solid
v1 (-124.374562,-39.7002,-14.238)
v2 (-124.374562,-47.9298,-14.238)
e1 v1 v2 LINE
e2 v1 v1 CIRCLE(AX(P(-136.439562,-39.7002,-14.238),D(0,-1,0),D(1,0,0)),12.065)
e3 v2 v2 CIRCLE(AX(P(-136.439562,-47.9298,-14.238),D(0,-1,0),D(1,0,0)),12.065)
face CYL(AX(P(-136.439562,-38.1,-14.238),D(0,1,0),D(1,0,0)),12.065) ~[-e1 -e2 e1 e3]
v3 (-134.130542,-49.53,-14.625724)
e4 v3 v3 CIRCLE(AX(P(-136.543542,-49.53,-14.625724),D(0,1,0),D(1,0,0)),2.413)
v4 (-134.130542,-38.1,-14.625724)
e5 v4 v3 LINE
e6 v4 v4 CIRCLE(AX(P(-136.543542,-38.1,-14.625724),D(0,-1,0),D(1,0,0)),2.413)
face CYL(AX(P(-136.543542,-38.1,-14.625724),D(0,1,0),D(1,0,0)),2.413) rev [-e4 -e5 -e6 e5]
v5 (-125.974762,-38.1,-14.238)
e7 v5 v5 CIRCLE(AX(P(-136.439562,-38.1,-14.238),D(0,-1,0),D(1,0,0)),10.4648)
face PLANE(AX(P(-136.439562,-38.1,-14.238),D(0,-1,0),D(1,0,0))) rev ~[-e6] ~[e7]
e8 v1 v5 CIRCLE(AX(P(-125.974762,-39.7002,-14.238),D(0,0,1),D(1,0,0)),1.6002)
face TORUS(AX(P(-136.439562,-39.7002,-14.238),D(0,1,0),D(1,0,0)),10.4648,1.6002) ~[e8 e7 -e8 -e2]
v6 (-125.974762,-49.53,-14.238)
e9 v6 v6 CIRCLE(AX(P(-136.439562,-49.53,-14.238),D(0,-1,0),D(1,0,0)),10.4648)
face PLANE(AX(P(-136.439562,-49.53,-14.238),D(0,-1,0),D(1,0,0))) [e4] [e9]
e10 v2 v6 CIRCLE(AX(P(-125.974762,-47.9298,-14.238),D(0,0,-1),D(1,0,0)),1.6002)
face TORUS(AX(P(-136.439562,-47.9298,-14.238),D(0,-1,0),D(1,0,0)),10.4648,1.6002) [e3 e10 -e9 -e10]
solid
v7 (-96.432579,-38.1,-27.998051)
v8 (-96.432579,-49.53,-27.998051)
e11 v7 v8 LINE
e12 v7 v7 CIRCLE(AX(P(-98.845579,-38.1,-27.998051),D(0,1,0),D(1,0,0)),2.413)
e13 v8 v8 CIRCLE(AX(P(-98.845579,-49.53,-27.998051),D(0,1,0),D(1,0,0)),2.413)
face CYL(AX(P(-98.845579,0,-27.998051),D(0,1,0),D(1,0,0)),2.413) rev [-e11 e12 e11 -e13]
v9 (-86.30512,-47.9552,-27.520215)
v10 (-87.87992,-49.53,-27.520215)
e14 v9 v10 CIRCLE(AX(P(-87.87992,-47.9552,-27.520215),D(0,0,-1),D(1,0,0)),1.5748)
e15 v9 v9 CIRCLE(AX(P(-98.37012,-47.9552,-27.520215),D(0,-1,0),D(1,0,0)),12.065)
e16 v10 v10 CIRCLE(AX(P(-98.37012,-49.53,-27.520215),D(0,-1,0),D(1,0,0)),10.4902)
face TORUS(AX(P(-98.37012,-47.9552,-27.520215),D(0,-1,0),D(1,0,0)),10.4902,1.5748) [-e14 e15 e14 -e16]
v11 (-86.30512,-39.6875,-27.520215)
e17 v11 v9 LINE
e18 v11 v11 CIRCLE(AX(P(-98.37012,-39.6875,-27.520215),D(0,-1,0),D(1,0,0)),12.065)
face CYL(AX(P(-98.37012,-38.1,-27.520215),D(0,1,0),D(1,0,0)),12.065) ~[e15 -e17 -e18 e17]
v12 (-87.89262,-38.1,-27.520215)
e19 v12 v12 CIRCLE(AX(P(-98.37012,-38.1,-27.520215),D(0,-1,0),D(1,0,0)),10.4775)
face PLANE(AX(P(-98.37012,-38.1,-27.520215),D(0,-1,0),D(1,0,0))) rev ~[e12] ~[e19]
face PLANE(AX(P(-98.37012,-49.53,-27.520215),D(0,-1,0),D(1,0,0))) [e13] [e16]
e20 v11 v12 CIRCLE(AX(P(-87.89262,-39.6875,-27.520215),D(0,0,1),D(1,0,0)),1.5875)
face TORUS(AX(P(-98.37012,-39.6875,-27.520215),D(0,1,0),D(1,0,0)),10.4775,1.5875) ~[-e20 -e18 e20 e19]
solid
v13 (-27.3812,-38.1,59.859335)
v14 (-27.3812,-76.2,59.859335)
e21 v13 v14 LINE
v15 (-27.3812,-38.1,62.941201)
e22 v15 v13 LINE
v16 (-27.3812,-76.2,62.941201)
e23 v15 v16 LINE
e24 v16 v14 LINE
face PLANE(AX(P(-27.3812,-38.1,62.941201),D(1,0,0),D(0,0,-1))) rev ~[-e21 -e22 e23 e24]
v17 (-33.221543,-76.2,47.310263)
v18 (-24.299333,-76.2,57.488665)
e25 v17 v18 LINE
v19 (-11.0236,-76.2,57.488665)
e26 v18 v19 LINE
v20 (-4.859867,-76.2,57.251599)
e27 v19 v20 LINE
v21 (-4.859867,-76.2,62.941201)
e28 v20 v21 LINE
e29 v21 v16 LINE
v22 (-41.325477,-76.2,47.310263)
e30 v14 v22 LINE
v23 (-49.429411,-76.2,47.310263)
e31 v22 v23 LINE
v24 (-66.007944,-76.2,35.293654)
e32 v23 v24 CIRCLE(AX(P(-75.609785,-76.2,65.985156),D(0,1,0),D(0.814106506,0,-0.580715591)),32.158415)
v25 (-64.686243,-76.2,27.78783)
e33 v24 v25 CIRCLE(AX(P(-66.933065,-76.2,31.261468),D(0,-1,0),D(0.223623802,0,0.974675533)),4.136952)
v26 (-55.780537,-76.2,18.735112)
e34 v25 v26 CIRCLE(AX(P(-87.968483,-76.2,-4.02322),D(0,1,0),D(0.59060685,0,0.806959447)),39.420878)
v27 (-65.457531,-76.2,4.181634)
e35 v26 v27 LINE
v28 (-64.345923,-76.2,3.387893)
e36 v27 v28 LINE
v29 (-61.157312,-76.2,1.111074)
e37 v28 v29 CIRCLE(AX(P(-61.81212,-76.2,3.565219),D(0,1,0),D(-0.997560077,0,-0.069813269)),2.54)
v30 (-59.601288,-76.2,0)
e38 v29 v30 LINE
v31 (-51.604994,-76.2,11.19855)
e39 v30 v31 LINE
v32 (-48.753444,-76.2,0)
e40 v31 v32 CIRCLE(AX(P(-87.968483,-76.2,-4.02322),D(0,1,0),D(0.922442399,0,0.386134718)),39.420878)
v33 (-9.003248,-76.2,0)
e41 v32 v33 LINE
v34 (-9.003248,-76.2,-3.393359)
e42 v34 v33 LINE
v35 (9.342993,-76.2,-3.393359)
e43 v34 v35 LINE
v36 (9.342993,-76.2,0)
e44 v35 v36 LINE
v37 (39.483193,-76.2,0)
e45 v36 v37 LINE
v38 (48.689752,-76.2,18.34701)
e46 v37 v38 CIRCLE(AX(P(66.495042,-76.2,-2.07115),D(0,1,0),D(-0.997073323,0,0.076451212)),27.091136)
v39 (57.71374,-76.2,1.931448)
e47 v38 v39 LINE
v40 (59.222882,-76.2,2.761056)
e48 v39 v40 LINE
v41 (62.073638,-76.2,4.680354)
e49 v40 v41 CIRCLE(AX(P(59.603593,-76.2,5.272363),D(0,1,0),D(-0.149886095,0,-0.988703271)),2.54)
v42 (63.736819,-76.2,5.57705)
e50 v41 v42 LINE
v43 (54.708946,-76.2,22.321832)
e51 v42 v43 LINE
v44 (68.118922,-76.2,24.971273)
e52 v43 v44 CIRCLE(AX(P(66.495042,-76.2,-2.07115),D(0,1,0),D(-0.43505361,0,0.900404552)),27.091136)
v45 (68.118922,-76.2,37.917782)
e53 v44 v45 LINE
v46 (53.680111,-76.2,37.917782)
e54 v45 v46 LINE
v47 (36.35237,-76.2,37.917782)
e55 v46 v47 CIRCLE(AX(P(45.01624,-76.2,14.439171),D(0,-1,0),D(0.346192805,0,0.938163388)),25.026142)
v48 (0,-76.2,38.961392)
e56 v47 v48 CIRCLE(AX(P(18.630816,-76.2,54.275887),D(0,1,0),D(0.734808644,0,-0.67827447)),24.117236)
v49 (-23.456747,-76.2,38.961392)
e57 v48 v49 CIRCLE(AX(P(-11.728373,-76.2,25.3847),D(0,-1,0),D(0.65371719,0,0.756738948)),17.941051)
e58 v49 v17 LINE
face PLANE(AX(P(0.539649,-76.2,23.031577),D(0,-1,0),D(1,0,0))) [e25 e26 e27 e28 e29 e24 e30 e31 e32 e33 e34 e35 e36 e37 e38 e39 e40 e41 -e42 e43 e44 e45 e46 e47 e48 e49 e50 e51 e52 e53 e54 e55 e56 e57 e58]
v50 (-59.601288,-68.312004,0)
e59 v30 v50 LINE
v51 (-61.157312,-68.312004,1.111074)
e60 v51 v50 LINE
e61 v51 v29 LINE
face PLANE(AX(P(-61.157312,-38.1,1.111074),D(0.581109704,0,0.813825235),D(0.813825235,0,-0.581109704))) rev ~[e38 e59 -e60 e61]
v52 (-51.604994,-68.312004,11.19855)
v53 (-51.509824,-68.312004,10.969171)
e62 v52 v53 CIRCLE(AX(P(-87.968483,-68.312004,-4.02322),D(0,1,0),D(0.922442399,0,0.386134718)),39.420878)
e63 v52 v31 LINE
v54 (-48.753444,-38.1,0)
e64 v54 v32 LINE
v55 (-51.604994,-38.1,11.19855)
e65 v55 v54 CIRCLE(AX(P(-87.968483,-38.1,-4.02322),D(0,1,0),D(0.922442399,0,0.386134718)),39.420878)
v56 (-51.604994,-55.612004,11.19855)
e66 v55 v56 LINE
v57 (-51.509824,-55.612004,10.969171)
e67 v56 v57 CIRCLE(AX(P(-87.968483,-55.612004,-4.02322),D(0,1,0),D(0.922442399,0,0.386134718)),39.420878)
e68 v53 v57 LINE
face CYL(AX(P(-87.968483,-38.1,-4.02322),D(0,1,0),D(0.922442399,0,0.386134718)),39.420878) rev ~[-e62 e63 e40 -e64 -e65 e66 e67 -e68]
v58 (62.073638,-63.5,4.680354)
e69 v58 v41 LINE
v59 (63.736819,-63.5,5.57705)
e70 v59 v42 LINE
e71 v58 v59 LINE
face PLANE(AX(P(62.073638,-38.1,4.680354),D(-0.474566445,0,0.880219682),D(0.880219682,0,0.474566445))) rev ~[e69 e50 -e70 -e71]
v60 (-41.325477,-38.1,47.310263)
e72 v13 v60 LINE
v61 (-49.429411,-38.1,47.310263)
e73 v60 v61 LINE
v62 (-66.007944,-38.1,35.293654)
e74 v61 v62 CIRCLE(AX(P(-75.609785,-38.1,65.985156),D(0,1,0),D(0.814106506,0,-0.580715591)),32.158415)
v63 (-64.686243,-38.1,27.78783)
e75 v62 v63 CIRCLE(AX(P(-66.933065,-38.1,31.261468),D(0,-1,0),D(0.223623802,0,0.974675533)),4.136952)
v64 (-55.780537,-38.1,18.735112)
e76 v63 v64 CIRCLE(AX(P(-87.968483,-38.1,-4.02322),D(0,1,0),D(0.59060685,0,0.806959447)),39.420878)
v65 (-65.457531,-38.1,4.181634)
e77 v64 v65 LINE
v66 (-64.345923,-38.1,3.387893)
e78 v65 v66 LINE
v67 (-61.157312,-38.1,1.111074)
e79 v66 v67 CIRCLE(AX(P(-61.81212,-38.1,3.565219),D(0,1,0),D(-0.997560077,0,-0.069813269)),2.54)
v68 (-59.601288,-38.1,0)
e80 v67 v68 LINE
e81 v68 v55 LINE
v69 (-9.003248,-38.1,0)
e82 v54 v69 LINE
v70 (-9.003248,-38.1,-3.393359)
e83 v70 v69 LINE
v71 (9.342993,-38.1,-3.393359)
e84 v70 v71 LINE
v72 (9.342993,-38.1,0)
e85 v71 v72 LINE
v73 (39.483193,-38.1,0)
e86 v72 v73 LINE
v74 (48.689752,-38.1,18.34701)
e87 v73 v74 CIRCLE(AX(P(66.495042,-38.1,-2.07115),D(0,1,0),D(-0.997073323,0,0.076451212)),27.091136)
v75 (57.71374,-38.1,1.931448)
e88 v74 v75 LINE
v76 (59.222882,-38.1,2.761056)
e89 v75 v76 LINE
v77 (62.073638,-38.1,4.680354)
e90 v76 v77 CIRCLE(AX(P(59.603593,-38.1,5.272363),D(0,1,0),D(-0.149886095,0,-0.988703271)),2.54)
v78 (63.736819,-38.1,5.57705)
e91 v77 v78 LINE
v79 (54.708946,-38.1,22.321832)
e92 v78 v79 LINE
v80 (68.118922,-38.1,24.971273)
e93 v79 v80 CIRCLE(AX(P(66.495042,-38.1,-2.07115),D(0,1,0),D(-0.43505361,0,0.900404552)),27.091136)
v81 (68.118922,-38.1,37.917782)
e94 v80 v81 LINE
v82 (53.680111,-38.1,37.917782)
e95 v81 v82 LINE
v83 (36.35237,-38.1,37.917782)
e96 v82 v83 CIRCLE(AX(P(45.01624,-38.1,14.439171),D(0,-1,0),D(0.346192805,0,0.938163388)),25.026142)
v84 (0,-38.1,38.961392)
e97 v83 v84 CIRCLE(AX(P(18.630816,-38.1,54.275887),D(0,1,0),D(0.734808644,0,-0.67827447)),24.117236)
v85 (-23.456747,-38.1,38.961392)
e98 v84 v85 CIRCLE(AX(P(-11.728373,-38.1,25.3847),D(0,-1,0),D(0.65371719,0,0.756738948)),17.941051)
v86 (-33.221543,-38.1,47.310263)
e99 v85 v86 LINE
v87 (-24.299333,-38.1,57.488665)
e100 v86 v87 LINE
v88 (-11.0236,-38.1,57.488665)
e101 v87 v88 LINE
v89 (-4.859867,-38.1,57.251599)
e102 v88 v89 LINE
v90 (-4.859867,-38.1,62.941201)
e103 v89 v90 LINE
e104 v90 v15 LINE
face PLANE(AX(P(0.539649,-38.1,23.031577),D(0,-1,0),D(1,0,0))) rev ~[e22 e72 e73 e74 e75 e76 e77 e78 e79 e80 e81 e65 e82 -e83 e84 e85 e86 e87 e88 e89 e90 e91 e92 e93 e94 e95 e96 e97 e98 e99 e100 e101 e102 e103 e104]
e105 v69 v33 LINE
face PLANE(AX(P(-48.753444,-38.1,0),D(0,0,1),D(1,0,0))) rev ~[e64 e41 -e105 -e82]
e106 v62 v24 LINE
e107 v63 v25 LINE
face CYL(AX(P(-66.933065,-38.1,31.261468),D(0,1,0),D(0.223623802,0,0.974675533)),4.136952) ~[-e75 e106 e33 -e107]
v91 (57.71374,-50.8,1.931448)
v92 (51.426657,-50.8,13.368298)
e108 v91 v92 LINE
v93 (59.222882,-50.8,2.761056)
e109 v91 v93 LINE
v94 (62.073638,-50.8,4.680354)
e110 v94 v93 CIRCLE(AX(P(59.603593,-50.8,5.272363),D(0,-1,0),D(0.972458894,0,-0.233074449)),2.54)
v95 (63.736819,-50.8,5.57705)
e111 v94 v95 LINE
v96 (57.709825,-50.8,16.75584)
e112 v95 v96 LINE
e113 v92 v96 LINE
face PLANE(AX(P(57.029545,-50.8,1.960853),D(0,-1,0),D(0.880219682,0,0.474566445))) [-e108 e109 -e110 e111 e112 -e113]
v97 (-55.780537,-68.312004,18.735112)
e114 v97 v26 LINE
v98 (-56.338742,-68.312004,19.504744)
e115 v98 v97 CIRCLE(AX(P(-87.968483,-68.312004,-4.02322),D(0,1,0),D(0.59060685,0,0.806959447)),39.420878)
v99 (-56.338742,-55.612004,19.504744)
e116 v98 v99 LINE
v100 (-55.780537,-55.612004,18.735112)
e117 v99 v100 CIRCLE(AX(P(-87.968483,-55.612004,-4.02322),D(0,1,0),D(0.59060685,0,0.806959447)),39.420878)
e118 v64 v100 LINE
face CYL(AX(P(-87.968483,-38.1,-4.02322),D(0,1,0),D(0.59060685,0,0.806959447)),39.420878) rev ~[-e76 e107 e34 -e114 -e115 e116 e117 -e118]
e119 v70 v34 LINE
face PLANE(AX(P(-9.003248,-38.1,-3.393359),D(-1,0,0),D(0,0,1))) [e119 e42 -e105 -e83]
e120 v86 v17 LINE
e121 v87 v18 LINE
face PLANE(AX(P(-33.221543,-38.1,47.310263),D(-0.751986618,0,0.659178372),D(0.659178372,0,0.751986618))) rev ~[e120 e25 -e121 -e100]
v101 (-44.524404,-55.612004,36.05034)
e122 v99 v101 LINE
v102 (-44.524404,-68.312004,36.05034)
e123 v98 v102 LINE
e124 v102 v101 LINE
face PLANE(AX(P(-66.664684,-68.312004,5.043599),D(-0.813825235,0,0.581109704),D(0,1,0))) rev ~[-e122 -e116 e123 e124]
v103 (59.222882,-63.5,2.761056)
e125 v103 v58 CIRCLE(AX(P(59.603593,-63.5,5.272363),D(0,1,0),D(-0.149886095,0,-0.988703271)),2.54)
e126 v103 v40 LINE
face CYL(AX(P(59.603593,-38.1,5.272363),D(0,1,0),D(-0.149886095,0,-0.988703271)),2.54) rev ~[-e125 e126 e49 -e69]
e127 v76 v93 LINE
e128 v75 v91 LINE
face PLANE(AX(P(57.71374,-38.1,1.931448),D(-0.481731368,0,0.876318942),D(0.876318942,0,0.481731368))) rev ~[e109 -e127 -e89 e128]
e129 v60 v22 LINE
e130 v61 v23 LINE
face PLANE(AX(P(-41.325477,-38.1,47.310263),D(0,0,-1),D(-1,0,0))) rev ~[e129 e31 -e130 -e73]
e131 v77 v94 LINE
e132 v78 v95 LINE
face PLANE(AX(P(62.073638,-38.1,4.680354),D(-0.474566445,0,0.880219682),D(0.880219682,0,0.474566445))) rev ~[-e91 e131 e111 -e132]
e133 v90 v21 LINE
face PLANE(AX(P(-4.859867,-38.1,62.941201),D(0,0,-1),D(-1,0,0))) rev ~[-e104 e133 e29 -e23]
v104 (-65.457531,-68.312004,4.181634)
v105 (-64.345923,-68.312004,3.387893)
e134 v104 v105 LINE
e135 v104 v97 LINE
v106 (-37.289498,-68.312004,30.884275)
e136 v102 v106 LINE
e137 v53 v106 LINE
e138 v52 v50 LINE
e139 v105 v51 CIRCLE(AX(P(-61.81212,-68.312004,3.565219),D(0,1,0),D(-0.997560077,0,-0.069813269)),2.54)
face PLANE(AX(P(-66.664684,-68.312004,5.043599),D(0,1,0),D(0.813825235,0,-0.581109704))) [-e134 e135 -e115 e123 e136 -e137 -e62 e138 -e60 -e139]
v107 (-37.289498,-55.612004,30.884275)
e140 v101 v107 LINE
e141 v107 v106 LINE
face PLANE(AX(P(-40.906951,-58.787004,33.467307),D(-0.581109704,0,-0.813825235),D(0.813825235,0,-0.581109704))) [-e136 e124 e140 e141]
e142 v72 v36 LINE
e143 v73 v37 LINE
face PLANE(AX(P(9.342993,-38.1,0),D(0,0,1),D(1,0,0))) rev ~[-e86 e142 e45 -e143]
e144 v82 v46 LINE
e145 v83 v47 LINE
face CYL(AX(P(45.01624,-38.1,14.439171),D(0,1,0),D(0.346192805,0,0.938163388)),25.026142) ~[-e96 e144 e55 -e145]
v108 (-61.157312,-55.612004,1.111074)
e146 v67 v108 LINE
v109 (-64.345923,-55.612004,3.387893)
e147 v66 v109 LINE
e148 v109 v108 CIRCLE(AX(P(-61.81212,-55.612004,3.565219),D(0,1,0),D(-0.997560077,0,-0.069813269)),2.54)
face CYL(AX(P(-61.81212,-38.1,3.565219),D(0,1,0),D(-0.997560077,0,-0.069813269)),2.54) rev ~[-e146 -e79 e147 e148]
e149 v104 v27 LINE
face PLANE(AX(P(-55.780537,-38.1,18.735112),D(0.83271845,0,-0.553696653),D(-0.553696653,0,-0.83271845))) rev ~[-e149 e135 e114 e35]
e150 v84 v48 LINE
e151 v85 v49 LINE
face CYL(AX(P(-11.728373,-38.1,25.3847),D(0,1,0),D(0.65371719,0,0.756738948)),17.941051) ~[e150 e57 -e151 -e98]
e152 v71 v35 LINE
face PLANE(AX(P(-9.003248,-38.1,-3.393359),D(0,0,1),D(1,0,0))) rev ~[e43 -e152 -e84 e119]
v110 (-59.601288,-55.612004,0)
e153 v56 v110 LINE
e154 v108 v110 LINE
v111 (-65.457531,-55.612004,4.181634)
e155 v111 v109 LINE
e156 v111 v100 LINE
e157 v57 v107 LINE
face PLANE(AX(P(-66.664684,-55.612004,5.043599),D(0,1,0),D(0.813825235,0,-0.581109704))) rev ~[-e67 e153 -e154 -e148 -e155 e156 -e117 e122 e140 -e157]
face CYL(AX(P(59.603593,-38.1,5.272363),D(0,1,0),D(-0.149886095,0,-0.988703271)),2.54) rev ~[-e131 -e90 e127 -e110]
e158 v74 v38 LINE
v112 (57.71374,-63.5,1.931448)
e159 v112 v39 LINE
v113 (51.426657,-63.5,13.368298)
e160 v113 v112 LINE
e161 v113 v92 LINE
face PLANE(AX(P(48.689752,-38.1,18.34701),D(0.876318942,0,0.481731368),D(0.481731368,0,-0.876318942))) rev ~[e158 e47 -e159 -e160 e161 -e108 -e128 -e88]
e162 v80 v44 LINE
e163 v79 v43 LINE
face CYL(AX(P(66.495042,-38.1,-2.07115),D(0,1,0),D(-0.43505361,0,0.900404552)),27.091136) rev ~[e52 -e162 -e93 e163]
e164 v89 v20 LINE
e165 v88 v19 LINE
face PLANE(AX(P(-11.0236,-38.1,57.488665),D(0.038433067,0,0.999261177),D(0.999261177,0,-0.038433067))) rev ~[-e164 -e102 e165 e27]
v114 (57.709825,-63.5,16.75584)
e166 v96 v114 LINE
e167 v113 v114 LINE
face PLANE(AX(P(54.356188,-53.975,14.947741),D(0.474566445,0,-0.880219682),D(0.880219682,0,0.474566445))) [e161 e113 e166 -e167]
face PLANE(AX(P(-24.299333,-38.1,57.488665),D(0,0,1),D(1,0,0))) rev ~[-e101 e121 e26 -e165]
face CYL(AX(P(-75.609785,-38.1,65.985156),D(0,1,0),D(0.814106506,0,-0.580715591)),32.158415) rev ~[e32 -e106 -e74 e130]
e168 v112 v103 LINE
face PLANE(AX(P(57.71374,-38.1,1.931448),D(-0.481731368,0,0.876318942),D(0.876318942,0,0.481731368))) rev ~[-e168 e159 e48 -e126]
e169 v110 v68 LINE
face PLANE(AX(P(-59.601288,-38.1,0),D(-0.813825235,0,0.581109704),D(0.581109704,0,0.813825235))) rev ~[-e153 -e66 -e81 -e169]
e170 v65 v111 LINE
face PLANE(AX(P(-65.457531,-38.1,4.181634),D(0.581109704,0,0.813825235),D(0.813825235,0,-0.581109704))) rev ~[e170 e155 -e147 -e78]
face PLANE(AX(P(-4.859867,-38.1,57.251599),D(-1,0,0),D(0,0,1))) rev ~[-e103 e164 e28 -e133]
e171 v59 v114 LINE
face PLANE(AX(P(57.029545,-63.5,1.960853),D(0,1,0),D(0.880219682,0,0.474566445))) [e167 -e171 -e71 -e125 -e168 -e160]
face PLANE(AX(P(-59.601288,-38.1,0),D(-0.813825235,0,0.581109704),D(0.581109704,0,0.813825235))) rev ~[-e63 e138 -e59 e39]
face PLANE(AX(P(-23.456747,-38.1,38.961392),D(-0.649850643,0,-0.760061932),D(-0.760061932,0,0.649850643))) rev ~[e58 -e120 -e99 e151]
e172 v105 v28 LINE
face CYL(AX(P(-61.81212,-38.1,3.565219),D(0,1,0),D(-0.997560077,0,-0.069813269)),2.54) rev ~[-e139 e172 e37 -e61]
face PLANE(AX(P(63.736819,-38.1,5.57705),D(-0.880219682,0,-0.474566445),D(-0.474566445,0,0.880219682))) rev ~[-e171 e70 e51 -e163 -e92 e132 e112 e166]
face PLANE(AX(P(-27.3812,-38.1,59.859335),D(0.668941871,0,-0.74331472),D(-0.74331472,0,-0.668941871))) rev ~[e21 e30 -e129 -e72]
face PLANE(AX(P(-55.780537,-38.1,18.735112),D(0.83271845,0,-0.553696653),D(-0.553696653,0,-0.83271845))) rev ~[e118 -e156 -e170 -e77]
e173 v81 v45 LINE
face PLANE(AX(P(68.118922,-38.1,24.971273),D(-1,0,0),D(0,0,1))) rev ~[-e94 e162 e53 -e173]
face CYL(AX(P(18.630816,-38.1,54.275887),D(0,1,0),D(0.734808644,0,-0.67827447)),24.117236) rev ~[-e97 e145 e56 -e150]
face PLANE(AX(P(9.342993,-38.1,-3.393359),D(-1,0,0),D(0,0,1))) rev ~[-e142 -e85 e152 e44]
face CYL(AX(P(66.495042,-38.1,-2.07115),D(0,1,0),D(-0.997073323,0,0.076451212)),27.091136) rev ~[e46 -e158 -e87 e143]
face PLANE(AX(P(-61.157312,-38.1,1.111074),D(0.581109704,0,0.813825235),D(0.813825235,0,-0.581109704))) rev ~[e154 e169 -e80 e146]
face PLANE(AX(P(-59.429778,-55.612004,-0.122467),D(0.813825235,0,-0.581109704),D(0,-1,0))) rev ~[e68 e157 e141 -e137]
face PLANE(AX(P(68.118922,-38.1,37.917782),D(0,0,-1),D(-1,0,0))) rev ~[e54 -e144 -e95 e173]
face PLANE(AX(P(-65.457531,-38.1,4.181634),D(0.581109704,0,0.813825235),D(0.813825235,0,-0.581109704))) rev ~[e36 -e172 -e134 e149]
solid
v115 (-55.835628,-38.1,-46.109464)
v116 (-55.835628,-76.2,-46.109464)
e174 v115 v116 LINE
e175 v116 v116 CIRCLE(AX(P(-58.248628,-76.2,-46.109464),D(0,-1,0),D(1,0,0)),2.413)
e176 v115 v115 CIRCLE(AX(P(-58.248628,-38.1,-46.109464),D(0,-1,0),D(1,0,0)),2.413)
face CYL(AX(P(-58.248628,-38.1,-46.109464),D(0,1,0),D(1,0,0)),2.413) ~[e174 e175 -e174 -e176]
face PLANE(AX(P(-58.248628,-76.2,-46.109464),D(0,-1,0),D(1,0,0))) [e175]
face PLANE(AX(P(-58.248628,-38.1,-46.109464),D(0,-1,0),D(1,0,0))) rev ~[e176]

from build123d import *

# Parameters (mm, degrees)
F1_W          = 18.346240744
F1_H          = 3.3933587838
F2_DEPTH      = 38.1
F3_W          = 7.62
F3_H          = 6.35
F4_DEPTH      = 12.7
F5_DEPTH      = 12.7
F5_DEPTH_BACK = 2.54
F7_W          = 7.62
F7_H          = 6.35
F8_DEPTH      = 25.4
F6_R          = 12.065
F9_DEPTH      = 11.43
F10_DEPTH     = 11.43
F11_R         = 1.5748
F12_R         = 1.5875
F13_DEPTH     = 12.7
F14_R         = 2.413
F15_DEPTH     = 38.1
F16_W         = 8.89
F16_H         = 6.35
F17_DEPTH     = 38.1
F18_R         = 12.065
F19_DEPTH     = 11.43
F20_DEPTH     = 38.1
F21_R         = 1.6002
F22_R         = 2.413
F23_DEPTH     = 25.4
F24_R         = 2.413
F25_DEPTH     = 50.8


with BuildPart() as f2:
    # F1 (on offset) → F2 (new body)
    with BuildSketch(Plane.XZ.offset(38.1)):
        with BuildLine():
            ThreePointArc((36.3523699343, 37.9177816212), (17.938739529, 30.168583093), (0, 38.961391896))
            ThreePointArc((0, 38.961391896), (-11.7283733562, 43.325750799), (-23.4567467123, 38.961391896))
            Line((-23.4567467123, 38.961391896), (-33.2215428352, 47.3102629185))
            Line((-33.2215428352, 47.3102629185), (-41.3254767033, 47.3102629185))
            Line((-41.3254767033, 47.3102629185), (-49.4294105714, 47.3102629185))
            ThreePointArc((-49.4294105714, 47.3102629185), (-56.7367498982, 39.9472569025), (-66.0079442432, 35.2936538851))
            Line((-66.0079442432, 35.2936538851), (-64.6862429176, 27.7878297377))
            ThreePointArc((-64.6862429176, 27.7878297377), (-59.8664666899, 23.6224354299), (-55.7805365855, 18.7351122561))
            ThreePointArc((-55.7805365855, 18.7351122561), (-53.4862447079, 15.0812512527), (-51.6049943174, 11.198549562))
            ThreePointArc((-51.6049943174, 11.198549562), (-49.7666461925, 5.7043305896), (-48.7534441054, 0))
            Line((-48.7534441054, 0), (-9.0032480657, 0))
            Line((-9.0032480657, 0), (9.3429926783, 0))
            Line((9.3429926783, 0), (39.4831933081, 0))
            ThreePointArc((39.4831933081, 0), (42.2814677608, 10.0792595054), (48.6897520328, 18.3470103953))
            ThreePointArc((48.6897520328, 18.3470103953), (51.5664674426, 20.5356473215), (54.7089455641, 22.3218316343))
            ThreePointArc((54.7089455641, 22.3218316343), (61.2440855838, 24.5062290424), (68.1189224124, 24.9712727964))
            Line((68.1189224124, 24.9712727964), (68.1189224124, 37.9177816212))
            Line((68.1189224124, 37.9177816212), (53.6801107228, 37.9177816212))
            ThreePointArc((53.6801107228, 37.9177816212), (45.0162403286, 39.4653134808), (36.3523699343, 37.9177816212))
        make_face()
        Polygon((-41.3254767033, 47.3102629185), (-33.2215428352, 47.3102629185), (-24.299332872, 57.4886649847), (-11.0235996544, 57.4886649847), (-11.0235996544, 62.9412010312), (-27.3812003434, 62.9412010312), (-27.3812003434, 59.8593354225), align=None)
        Polygon((-11.0235996544, 62.9412010312), (-11.0235996544, 57.4886649847), (-4.8598670401, 57.251598686), (-4.8598670401, 62.9412010312), align=None)
        with BuildLine():
            Line((63.7368187308, 5.5770496838), (54.7089455641, 22.3218316343))
            ThreePointArc((54.7089455641, 22.3218316343), (51.5664674426, 20.5356473215), (48.6897520328, 18.3470103953))
            Line((48.6897520328, 18.3470103953), (57.713739574, 1.9314482342))
            Line((57.713739574, 1.9314482342), (59.2228821475, 2.7610563614))
            ThreePointArc((59.2228821475, 2.7610563614), (58.1850528969, 7.3793378634), (62.0736384197, 4.6803535699))
            Line((62.0736384197, 4.6803535699), (63.7368187308, 5.5770496838))
        make_face()
        with BuildLine():
            Line((-64.6862429176, 27.7878297377), (-66.0079442432, 35.2936538851))
            ThreePointArc((-66.0079442432, 35.2936538851), (-71.0073326122, 30.5440297536), (-64.6862429176, 27.7878297377))
        make_face()
        with BuildLine():
            ThreePointArc((-51.6049943174, 11.198549562), (-53.4862447079, 15.0812512527), (-55.7805365855, 18.7351122561))
            Line((-55.7805365855, 18.7351122561), (-65.4575312239, 4.1816343999))
            Line((-65.4575312239, 4.1816343999), (-64.3459226379, 3.387893301))
            ThreePointArc((-64.3459226379, 3.387893301), (-60.3361013948, 5.6323350995), (-61.1573117392, 1.1110743286))
            Line((-61.1573117392, 1.1110743286), (-59.6012882888, 0))
            Line((-59.6012882888, 0), (-51.6049943174, 11.198549562))
        make_face()
        with Locations((0.1698723063, -1.6966793919)):
            Rectangle(F1_W, F1_H)
    extrude(amount=F2_DEPTH)

    # F3 (on face) → F4 (cut)
    with BuildSketch(Plane(origin=(12.0247195907, 0, -22.3032937929), x_dir=(0.8802196822, 0, 0.4745664454), z_dir=(0.4745664454, 0, -0.8802196822))):
        with Locations((54.9390829703, 53.975)):
            Rectangle(F3_W, F3_H)
        with Locations((54.9390829703, 60.325)):
            Rectangle(F3_W, F3_H)
    extrude(amount=-F4_DEPTH, mode=Mode.SUBTRACT)

    # F3 (on face) → F5 (cut, two sides)
    with BuildSketch(Plane(origin=(12.0247195907, 0, -22.3032937929), x_dir=(0.8802196822, 0, 0.4745664454), z_dir=(0.4745664454, 0, -0.8802196822))) as f5_sk:
        with Locations((54.9390829703, 53.975)):
            Rectangle(F3_W, F3_H)
        with Locations((54.9390829703, 60.325)):
            Rectangle(F3_W, F3_H)
    extrude(amount=-F5_DEPTH, mode=Mode.SUBTRACT)
    extrude(f5_sk.sketch, amount=F5_DEPTH_BACK, mode=Mode.SUBTRACT)

    # F7 (on Top) → F8 (cut)
    with BuildSketch(Plane.XY):
        with Locations((-58.6418677121, -57.1051912602)):
            Rectangle(F7_W, F7_H)
        Polygon((-62.4518677121, -47.5801912602), (-62.4518677121, -53.9301912602), (-54.8318677121, -53.9301912602), (-54.8689477146, -47.5801912602), align=None)
    extrude(amount=-F8_DEPTH, mode=Mode.SUBTRACT)

    # F7 (on Top) → F13 (cut)
    with BuildSketch(Plane.XY):
        with Locations((-58.6418677121, -57.1051912602)):
            Rectangle(F7_W, F7_H)
        Polygon((-62.4518677121, -47.5801912602), (-62.4518677121, -53.9301912602), (-54.8318677121, -53.9301912602), (-54.8689477146, -47.5801912602), align=None)
    extrude(amount=-F13_DEPTH, mode=Mode.SUBTRACT)

    # F16 (on face) → F17 (cut)
    with BuildSketch(Plane(origin=(-20.1266689027, 0, -28.1867450133), x_dir=(0.8138252345, 0, -0.5811097036), z_dir=(-0.5811097036, 0, -0.8138252345))):
        with Locations((-52.739286169, 58.787003532)):
            Rectangle(F16_W, F16_H)
        with Locations((-52.739286169, 65.137003532)):
            Rectangle(F16_W, F16_H)
    extrude(amount=-F17_DEPTH, mode=Mode.SUBTRACT)

    # F16 (on face) → F20 (cut)
    with BuildSketch(Plane(origin=(-20.1266689027, 0, -28.1867450133), x_dir=(0.8138252345, 0, -0.5811097036), z_dir=(-0.5811097036, 0, -0.8138252345))):
        with Locations((-52.739286169, 58.787003532)):
            Rectangle(F16_W, F16_H)
        with Locations((-52.739286169, 65.137003532)):
            Rectangle(F16_W, F16_H)
    extrude(amount=-F20_DEPTH, mode=Mode.SUBTRACT)


with BuildPart() as f9:
    # F6 (on offset) → F9 (new body)
    with BuildSketch(Plane.XZ.offset(38.1)):
        with Locations((-98.3701199293, -27.5202151388)):
            Circle(F6_R)
    extrude(amount=F9_DEPTH)

    # F6 (on offset) → F10 (join)
    with BuildSketch(Plane.XZ.offset(38.1)):
        with Locations((-98.3701199293, -27.5202151388)):
            Circle(F6_R)
    extrude(amount=F10_DEPTH)

    # F11
    f11_edges = [f9.edges().sort_by_distance(p)[0] for p in [
        (-110.43512, -49.53, -27.520215),
    ]]
    fillet(f11_edges, radius=F11_R)

    # F12
    f12_edges = [f9.edges().sort_by_distance(p)[0] for p in [
        (-110.43512, -38.1, -27.520215),
    ]]
    fillet(f12_edges, radius=F12_R)

    # F24 (on Front) → F25 (cut)
    with BuildSketch(Plane.XZ):
        with Locations((-98.8455787301, -27.9980506748)):
            Circle(F24_R)
    extrude(amount=F25_DEPTH, mode=Mode.SUBTRACT)


with BuildPart() as f15:
    # F14 (on offset) → F15 (new body)
    with BuildSketch(Plane.XZ.offset(38.1)):
        with Locations((-58.2486279309, -46.1094640195)):
            Circle(F14_R)
    extrude(amount=F15_DEPTH)


with BuildPart() as f19:
    # F18 (on offset) → F19 (new body)
    with BuildSketch(Plane.XZ.offset(38.1)):
        with Locations((-136.4395618439, -14.2379999161)):
            Circle(F18_R)
    extrude(amount=F19_DEPTH)

    # F21
    f21_edges = [f19.edges().sort_by_distance(p)[0] for p in [
        (-148.504562, -38.1, -14.238),
        (-148.504562, -49.53, -14.238),
    ]]
    fillet(f21_edges, radius=F21_R)

    # F22 (on offset) → F23 (cut)
    with BuildSketch(Plane.XZ.offset(38.1)):
        with Locations((-136.5435421467, -14.6257244051)):
            Circle(F22_R)
    extrude(amount=F23_DEPTH, mode=Mode.SUBTRACT)


solid = Compound([f2.part, f9.part, f15.part, f19.part])
